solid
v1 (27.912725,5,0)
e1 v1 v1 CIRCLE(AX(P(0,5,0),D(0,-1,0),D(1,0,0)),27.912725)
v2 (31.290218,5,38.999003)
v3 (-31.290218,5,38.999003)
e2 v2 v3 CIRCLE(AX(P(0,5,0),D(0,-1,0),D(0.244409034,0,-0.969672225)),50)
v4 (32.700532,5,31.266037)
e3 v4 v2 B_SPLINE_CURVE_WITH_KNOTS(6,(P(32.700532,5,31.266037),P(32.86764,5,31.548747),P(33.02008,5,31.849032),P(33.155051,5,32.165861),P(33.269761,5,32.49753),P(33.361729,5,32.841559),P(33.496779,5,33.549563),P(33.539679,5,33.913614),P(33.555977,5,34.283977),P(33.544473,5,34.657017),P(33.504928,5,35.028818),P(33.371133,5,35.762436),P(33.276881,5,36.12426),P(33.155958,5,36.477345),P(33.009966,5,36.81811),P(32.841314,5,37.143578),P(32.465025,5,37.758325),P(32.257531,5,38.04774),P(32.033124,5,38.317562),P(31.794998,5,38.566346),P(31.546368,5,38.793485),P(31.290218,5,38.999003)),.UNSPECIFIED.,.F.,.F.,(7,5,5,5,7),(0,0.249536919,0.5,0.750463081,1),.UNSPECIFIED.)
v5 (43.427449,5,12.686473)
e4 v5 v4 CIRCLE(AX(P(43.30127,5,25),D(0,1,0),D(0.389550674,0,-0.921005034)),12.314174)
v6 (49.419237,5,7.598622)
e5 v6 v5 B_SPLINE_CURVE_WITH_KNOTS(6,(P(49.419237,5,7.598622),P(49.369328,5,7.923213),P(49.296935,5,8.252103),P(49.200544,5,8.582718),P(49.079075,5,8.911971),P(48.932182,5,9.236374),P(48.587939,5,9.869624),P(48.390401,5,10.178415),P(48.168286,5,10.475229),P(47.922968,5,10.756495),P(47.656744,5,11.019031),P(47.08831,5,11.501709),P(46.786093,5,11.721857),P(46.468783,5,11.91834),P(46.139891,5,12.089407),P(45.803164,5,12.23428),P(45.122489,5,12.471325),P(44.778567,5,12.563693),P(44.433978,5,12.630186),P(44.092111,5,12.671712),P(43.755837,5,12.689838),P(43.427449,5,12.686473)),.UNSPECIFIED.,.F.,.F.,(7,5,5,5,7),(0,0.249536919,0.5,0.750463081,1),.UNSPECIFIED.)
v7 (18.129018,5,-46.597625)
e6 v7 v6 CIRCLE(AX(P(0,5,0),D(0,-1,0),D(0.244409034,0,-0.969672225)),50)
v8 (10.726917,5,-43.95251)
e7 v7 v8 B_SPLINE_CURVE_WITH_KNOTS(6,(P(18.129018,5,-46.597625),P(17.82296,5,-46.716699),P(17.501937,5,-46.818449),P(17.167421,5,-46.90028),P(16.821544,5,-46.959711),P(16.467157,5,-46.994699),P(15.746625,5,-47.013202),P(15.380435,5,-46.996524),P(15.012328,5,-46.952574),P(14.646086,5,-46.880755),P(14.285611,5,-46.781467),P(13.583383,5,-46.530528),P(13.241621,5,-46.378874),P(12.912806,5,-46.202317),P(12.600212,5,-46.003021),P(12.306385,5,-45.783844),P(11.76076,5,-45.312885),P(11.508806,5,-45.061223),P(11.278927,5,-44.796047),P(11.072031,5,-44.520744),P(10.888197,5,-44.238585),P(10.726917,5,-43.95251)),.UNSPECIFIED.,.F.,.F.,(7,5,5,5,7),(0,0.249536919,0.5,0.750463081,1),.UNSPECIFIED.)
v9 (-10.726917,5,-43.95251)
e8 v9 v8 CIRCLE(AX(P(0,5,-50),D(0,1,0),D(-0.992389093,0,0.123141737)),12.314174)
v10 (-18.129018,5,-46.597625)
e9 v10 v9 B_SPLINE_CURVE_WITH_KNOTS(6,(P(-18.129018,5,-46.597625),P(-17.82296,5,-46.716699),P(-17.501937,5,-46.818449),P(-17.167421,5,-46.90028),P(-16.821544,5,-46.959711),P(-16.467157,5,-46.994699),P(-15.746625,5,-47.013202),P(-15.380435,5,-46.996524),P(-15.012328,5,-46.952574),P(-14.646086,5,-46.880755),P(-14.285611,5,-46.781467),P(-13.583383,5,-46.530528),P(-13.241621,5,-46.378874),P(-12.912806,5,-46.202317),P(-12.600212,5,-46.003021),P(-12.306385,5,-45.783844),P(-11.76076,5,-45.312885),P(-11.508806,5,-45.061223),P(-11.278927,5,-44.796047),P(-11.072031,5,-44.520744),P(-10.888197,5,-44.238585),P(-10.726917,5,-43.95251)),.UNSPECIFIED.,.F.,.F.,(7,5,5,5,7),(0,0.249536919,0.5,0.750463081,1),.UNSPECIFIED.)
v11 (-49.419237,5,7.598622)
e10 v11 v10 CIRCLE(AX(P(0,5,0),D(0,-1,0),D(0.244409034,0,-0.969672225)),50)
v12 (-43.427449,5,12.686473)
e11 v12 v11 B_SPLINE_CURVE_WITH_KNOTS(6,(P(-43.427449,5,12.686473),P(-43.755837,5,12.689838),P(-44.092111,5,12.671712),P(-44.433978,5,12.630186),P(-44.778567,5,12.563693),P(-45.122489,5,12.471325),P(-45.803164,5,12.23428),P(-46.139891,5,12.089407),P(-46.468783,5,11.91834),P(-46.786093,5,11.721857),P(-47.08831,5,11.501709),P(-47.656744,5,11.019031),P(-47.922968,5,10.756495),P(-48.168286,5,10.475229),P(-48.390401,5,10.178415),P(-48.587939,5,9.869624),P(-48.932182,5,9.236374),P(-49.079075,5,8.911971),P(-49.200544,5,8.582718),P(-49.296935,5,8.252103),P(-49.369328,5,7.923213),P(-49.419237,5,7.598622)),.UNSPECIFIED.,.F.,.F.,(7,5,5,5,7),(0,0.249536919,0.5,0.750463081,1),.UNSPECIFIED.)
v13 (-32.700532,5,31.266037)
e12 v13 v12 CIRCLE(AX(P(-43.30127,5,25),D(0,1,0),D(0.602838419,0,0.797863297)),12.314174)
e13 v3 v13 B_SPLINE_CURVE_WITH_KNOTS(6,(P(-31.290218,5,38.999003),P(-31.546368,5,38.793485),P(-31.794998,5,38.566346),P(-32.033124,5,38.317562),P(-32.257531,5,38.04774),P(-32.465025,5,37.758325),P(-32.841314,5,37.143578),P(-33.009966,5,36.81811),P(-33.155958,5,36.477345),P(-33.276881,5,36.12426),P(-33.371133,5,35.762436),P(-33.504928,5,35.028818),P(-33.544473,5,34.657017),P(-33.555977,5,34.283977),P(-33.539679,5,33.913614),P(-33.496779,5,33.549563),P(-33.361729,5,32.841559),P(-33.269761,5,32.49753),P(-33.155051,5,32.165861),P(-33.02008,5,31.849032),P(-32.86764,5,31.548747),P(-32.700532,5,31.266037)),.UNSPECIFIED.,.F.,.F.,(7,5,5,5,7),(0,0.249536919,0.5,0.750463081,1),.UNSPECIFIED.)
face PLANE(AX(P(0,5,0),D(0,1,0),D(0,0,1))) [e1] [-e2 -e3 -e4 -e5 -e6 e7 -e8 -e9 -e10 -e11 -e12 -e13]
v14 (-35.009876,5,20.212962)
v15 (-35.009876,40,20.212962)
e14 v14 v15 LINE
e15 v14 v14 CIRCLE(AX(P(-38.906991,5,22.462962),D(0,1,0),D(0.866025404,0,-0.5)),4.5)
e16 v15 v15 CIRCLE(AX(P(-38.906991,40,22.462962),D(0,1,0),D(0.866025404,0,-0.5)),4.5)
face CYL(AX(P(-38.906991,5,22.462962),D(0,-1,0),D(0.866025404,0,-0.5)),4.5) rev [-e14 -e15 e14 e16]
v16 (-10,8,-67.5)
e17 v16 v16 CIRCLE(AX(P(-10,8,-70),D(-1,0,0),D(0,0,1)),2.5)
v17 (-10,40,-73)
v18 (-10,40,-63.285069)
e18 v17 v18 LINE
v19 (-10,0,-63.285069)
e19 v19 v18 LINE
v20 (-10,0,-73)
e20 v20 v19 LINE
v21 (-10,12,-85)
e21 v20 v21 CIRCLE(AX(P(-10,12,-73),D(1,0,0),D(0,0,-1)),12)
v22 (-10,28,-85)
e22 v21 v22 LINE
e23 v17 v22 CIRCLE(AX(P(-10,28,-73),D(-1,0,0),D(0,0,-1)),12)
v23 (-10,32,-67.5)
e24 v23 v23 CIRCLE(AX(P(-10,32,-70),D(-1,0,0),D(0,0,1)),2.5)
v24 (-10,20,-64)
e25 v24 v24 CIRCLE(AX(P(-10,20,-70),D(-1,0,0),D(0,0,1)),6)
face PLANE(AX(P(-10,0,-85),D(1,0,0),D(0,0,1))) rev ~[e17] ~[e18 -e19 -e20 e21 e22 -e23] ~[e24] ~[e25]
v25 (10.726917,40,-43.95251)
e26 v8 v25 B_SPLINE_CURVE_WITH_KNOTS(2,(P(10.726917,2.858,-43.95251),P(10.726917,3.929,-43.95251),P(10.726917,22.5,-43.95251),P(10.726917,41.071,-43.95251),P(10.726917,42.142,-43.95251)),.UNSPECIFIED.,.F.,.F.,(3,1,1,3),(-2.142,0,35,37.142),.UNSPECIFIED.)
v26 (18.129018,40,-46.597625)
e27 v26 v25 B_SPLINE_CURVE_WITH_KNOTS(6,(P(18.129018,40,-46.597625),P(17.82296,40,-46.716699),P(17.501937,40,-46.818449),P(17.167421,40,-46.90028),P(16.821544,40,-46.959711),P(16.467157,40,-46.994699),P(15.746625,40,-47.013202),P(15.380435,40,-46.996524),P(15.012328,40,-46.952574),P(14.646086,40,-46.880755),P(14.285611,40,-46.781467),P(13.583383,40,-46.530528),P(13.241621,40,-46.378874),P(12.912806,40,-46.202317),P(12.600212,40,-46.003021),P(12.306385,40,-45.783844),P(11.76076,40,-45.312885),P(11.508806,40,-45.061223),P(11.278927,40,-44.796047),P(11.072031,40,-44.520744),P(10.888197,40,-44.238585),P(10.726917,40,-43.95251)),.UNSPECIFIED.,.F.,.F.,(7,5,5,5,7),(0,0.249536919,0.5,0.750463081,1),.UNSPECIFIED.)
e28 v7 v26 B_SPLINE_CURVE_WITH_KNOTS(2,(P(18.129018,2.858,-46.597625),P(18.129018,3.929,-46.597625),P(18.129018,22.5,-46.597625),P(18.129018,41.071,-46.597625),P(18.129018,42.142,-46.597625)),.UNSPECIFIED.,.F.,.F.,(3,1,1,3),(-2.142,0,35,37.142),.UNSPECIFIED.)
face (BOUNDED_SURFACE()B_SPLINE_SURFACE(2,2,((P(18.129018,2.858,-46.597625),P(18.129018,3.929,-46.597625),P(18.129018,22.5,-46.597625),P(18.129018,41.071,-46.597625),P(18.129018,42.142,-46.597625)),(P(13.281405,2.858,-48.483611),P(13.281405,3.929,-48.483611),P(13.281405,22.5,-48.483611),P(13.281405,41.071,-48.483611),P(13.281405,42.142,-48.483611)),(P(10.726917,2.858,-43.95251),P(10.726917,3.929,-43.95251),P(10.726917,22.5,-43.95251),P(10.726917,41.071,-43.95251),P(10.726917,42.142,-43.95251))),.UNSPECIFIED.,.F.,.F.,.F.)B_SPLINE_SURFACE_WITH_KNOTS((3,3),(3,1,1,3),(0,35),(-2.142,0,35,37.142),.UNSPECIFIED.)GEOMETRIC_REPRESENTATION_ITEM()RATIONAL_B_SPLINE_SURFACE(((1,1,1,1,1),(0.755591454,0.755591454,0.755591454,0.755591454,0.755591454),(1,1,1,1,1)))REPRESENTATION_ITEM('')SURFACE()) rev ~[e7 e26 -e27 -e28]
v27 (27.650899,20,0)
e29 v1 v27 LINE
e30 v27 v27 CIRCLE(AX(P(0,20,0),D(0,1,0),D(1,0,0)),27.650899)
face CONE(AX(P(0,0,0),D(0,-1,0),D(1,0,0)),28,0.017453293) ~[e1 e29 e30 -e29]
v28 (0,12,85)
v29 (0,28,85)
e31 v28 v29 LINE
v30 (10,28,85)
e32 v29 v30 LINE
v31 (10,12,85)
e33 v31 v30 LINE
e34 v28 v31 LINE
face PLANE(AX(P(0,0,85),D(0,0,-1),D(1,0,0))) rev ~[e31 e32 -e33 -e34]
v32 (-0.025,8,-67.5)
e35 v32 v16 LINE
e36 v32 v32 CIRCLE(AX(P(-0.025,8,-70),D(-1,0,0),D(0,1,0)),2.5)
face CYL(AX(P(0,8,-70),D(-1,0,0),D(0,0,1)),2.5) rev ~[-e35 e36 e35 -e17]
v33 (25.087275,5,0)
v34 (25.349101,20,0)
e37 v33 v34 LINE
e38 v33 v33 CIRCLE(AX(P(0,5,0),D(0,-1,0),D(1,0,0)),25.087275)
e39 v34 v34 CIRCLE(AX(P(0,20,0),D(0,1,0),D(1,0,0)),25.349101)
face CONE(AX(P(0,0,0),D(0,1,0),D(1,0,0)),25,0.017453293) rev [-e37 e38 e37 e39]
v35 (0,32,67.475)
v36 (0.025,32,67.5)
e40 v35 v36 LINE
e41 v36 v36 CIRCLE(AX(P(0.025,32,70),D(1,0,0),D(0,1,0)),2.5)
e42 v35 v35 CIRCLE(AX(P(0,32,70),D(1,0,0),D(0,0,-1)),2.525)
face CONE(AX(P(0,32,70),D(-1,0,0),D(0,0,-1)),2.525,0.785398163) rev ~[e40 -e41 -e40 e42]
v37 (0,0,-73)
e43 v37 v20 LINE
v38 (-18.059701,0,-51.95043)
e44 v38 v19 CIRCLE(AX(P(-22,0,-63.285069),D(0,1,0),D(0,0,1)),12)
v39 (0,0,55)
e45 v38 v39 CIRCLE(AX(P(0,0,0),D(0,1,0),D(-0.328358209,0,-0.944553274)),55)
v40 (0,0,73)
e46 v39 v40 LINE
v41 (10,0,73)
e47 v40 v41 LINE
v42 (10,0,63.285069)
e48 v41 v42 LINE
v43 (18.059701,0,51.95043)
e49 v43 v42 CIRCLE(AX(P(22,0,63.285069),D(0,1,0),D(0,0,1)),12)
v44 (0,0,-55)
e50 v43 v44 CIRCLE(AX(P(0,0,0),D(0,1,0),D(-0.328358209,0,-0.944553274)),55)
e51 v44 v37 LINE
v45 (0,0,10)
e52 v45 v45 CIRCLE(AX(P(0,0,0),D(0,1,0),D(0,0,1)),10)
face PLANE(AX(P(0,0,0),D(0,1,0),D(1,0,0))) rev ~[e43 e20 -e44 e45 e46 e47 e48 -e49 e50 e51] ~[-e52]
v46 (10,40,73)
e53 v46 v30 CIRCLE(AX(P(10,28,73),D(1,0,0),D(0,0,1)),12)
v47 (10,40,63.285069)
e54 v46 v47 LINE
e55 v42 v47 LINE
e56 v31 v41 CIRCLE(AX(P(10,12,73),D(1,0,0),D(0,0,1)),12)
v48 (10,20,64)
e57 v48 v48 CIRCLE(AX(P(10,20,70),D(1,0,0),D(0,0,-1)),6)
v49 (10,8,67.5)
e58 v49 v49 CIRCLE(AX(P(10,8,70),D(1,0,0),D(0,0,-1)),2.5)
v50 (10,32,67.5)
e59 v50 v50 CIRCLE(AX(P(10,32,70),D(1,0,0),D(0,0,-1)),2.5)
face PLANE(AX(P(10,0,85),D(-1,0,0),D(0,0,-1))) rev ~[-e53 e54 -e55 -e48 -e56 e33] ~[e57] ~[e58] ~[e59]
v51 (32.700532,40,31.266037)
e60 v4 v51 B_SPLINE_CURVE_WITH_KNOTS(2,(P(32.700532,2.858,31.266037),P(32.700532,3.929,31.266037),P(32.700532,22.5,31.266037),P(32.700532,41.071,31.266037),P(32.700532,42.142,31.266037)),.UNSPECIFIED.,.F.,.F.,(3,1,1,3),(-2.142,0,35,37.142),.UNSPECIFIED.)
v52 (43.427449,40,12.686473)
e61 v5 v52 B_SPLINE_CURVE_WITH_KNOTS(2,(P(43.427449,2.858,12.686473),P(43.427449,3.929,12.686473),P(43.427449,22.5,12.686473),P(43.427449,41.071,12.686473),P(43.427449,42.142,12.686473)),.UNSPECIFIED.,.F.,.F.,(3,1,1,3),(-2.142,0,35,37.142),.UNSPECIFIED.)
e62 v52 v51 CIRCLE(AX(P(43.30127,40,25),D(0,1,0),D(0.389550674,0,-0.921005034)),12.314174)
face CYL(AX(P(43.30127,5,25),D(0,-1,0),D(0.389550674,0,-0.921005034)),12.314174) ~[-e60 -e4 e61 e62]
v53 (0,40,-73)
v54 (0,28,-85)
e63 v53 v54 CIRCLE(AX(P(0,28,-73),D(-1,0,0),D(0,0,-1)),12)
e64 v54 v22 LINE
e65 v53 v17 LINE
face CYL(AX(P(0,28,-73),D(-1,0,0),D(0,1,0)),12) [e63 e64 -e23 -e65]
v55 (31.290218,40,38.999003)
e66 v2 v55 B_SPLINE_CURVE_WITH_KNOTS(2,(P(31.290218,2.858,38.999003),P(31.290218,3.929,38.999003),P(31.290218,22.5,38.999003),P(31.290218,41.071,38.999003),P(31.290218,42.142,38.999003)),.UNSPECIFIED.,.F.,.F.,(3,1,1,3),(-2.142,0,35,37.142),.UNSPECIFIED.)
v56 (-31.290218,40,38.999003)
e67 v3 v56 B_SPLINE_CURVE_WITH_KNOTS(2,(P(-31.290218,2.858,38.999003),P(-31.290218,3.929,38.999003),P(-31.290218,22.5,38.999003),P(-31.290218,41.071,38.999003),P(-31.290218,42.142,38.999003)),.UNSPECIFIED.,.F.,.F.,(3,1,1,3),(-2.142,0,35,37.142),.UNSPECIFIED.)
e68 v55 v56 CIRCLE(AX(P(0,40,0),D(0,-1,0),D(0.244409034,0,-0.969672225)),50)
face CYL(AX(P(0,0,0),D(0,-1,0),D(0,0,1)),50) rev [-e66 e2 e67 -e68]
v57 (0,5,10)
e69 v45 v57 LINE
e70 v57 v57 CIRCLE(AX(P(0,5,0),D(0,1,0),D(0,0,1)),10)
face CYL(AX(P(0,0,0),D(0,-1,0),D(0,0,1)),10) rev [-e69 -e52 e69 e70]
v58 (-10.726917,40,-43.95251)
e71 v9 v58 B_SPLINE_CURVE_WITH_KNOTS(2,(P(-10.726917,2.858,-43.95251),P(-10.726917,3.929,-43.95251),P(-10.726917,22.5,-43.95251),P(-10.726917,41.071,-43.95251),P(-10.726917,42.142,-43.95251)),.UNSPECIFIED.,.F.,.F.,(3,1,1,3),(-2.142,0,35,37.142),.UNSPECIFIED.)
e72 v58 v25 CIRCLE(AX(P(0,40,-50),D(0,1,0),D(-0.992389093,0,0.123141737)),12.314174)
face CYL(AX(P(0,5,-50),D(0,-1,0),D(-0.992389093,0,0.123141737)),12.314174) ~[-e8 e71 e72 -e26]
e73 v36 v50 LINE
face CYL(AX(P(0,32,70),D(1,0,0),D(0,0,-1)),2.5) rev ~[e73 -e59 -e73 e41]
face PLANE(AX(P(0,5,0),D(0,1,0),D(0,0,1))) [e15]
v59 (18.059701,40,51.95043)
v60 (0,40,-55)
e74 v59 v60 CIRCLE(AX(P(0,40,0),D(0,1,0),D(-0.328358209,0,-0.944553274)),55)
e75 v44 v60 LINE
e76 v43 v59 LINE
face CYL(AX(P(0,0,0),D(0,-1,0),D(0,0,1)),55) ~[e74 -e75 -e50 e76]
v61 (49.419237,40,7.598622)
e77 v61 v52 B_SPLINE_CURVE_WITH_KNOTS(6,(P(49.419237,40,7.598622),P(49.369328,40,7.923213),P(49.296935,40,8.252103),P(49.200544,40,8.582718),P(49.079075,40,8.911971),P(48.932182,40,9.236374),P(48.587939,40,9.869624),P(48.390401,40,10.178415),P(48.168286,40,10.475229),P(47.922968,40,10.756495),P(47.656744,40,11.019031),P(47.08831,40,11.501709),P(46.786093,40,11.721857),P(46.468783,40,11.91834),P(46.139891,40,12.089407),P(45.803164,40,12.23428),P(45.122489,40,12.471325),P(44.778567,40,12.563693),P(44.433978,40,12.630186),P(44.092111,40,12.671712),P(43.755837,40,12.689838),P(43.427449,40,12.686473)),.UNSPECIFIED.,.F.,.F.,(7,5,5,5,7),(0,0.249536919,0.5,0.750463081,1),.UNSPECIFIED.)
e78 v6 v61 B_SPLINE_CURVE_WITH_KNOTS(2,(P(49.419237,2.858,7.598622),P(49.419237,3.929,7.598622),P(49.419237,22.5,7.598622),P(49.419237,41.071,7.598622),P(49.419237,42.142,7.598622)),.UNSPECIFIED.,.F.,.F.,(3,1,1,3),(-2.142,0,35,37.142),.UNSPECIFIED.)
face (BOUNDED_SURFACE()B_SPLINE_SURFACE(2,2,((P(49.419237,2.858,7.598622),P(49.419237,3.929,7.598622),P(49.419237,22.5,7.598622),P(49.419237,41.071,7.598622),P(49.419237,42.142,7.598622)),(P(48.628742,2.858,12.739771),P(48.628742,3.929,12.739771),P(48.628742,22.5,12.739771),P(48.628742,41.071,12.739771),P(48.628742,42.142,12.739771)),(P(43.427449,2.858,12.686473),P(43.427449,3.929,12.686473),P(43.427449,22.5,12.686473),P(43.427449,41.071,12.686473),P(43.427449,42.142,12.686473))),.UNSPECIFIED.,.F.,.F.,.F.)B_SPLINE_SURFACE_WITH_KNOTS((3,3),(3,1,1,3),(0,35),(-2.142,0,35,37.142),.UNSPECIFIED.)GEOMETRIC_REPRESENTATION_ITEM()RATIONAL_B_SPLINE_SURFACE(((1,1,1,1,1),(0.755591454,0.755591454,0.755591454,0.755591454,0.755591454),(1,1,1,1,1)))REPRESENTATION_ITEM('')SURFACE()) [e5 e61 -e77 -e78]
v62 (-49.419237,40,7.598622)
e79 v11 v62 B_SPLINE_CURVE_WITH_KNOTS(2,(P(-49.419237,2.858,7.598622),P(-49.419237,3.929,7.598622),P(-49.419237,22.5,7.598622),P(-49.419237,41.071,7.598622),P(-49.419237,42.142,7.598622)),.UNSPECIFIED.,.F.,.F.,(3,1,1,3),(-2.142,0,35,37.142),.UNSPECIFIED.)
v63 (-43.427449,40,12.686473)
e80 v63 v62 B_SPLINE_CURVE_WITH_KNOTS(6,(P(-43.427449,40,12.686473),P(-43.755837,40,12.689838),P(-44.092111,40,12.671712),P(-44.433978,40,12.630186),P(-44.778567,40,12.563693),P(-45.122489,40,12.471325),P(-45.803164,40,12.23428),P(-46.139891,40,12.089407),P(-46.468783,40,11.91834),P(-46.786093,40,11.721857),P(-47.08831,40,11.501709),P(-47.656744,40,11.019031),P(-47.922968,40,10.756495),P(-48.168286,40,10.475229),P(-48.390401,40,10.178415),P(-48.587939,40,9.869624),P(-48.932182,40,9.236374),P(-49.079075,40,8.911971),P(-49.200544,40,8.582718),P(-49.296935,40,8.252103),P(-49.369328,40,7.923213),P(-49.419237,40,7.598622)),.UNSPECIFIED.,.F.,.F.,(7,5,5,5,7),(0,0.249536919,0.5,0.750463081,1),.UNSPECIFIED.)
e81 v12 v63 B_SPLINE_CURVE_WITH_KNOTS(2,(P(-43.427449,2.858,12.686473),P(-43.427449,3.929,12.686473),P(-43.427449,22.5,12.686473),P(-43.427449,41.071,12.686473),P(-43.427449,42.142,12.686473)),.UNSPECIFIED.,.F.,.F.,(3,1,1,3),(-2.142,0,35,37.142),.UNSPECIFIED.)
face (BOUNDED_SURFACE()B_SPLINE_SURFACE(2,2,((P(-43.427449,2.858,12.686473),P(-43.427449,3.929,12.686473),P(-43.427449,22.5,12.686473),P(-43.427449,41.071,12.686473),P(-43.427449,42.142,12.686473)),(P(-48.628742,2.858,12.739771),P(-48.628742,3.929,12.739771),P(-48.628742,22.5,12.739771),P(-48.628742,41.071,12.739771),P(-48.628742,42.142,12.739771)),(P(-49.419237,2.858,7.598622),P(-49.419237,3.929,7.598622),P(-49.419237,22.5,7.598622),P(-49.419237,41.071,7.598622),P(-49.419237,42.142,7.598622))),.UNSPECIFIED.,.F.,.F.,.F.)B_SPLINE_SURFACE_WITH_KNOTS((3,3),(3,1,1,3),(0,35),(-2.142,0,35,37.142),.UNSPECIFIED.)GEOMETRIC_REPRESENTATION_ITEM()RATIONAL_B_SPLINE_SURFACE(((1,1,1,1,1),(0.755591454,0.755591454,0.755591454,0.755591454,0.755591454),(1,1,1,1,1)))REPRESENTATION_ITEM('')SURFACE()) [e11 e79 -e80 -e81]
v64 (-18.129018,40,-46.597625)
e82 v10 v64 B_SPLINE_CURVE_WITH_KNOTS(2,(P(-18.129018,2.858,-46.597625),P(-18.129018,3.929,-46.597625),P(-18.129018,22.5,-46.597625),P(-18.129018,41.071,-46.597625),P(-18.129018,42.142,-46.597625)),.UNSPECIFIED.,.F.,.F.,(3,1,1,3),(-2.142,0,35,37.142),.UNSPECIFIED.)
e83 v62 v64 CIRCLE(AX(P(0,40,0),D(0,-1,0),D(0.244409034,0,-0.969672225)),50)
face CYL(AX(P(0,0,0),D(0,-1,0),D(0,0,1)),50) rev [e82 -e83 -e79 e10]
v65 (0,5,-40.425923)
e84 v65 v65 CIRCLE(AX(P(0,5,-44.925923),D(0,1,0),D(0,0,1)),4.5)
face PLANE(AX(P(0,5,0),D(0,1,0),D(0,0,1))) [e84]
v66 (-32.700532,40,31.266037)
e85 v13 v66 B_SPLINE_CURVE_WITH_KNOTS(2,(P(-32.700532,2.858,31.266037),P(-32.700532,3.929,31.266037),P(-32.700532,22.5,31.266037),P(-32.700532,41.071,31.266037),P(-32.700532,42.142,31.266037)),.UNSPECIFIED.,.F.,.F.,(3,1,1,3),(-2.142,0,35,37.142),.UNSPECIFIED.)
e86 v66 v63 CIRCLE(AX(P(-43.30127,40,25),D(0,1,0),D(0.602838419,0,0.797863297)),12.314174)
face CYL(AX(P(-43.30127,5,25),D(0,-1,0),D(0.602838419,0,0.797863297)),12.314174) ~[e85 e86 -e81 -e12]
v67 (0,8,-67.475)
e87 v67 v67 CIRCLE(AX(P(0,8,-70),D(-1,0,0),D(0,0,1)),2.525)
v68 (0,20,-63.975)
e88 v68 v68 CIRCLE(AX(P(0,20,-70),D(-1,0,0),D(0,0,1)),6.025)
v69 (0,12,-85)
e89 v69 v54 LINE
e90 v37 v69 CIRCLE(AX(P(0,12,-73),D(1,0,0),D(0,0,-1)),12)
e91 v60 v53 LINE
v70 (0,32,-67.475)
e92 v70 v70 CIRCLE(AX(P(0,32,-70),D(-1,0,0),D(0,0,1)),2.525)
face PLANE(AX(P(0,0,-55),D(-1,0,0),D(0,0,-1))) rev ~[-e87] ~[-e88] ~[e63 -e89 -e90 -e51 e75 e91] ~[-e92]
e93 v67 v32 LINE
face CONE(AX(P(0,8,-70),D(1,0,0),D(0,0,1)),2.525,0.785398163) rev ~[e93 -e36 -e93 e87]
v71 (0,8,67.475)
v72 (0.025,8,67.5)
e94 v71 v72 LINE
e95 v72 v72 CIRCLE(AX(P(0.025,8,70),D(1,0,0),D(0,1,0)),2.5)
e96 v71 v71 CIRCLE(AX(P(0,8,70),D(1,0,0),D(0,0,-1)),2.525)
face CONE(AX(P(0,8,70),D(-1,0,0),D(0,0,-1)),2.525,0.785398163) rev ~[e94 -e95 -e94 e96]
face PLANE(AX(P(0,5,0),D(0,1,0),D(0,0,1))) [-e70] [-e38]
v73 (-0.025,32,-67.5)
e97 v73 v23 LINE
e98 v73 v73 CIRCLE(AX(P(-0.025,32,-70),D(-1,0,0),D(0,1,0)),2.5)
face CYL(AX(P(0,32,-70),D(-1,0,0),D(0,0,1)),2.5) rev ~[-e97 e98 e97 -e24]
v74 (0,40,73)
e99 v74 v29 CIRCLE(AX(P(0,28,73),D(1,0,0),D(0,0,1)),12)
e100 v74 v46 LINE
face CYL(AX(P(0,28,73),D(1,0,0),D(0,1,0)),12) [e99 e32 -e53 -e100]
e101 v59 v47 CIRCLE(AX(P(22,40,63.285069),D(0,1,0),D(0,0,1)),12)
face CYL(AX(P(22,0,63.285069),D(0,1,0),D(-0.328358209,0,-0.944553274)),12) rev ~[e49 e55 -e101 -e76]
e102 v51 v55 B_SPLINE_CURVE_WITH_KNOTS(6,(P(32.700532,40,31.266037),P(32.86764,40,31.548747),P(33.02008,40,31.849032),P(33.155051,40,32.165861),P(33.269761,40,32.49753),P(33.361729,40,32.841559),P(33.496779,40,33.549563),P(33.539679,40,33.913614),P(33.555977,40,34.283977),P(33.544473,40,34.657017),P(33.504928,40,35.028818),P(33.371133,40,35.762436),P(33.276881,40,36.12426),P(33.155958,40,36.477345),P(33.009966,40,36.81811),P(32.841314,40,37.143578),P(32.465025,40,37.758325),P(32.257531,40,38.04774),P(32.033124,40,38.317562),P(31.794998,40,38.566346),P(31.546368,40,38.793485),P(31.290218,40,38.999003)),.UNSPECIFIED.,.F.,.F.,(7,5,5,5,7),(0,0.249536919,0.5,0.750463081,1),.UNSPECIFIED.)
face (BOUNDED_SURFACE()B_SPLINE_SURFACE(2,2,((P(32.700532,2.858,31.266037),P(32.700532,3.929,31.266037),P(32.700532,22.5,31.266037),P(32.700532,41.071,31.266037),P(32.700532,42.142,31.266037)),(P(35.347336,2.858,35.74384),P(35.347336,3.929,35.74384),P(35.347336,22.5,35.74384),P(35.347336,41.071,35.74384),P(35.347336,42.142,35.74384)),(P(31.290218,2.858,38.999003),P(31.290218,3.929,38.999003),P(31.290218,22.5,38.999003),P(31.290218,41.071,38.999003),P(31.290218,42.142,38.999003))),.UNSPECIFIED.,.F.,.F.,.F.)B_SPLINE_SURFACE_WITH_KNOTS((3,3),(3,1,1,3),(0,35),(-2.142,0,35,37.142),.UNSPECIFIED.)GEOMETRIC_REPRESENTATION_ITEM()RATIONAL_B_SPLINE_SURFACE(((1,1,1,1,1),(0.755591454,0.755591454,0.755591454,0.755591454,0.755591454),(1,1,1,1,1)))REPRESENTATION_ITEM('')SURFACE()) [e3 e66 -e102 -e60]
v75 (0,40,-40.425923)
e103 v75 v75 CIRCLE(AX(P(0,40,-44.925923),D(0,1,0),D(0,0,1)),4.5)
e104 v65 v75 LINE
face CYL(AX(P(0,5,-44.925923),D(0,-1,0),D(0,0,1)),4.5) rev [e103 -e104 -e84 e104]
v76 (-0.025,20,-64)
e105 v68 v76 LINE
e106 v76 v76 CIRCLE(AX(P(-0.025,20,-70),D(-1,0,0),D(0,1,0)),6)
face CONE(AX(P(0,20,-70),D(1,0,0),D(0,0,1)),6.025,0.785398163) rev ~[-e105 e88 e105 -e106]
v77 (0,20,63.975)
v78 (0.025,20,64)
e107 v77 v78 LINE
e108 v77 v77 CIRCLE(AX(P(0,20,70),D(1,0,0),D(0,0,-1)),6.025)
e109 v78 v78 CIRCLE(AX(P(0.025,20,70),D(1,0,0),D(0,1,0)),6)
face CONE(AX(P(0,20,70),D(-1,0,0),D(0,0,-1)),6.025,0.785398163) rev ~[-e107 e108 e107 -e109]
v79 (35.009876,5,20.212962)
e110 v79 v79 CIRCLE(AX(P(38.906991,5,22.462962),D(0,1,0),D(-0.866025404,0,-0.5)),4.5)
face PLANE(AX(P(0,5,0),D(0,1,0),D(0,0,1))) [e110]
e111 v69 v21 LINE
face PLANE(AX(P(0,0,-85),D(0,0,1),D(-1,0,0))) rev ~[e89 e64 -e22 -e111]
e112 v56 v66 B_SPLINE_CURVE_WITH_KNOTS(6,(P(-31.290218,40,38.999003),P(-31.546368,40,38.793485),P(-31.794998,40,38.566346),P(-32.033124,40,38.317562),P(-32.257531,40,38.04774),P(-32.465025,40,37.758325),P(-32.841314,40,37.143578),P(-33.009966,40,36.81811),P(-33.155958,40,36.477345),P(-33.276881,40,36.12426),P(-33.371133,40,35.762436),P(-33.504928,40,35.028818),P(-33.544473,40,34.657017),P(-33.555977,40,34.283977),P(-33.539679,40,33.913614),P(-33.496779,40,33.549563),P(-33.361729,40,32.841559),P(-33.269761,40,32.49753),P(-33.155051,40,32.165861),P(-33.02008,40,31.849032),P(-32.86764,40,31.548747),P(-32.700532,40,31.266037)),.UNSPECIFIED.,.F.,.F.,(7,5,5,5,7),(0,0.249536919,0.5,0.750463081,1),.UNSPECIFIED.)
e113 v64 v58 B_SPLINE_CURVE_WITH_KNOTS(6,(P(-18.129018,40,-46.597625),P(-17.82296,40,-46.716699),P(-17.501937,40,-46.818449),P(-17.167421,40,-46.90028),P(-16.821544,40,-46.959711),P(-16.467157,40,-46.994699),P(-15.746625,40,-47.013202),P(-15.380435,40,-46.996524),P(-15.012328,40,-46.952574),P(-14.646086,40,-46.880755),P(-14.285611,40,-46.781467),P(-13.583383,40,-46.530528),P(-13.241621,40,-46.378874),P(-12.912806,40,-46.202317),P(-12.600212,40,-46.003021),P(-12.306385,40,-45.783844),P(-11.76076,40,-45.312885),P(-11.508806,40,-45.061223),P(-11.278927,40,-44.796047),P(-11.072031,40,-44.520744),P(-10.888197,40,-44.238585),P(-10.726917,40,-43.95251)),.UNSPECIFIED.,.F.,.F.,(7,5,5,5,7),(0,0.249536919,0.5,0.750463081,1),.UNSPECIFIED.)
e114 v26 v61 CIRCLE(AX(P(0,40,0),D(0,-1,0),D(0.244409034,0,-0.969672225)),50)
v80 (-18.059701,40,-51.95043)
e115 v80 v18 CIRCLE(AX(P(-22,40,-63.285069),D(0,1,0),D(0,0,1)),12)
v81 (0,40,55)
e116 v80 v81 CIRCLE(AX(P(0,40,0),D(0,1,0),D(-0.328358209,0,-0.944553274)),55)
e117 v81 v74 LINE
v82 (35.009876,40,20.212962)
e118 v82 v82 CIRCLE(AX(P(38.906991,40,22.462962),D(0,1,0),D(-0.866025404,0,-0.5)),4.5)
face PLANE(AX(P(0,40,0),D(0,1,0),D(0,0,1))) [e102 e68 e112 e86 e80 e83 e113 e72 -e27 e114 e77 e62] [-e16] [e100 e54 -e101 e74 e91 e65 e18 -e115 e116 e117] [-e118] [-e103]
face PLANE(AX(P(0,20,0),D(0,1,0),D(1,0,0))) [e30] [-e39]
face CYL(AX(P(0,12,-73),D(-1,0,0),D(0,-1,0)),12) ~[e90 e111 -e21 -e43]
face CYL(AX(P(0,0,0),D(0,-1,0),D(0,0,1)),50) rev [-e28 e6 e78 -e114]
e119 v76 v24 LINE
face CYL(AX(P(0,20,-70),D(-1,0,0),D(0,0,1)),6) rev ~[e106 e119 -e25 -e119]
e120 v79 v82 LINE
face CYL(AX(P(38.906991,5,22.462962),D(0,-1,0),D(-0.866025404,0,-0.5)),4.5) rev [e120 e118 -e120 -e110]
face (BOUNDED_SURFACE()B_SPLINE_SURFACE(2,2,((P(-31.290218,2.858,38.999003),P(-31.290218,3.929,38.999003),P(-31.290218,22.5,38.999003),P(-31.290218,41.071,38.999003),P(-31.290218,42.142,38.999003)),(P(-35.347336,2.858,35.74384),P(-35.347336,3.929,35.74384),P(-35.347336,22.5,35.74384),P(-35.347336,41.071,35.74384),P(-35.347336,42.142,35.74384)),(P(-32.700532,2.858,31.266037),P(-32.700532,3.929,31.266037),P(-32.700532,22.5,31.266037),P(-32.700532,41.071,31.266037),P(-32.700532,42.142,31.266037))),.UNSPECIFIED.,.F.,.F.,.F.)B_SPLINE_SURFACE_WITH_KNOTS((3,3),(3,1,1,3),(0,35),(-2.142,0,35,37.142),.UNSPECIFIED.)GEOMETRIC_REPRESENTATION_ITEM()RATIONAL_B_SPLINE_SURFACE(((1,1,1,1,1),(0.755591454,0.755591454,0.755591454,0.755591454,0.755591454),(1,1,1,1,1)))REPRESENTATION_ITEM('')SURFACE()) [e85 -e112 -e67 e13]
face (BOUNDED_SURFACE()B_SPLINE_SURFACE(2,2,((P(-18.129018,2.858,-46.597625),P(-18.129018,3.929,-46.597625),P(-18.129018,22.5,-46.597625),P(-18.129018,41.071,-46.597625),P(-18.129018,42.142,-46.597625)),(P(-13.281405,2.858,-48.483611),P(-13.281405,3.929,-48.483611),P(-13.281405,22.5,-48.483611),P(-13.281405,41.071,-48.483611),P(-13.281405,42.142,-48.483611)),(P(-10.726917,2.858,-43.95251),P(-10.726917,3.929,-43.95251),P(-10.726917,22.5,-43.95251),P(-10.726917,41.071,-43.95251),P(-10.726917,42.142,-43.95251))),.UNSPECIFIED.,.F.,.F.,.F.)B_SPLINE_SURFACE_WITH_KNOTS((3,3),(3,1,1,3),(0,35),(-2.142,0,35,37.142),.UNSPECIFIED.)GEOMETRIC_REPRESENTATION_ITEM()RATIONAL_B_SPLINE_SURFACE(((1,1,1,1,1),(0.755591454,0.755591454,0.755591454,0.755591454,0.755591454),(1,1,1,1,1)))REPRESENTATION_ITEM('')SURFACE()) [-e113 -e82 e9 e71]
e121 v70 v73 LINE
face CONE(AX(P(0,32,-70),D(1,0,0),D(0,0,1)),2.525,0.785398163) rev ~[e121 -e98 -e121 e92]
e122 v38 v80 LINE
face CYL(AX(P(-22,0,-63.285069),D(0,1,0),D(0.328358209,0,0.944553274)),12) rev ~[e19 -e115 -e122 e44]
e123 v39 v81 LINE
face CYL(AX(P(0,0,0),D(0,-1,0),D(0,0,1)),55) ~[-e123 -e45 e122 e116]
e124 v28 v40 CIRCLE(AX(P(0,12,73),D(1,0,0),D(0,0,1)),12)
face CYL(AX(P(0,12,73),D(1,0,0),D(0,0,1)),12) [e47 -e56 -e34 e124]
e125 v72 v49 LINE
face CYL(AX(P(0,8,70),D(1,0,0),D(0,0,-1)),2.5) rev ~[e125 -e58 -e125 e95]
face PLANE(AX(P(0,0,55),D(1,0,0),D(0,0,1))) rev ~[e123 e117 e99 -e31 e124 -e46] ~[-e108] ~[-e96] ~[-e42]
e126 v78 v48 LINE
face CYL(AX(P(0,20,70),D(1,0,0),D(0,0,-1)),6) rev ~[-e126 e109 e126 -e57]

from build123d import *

# Parameters (mm, degrees)
SKETCH1_R                        = 55
SKETCH1_R_2                      = 50
BOSS_EXTRUDE1_DEPTH              = 40
SKETCH1_2_R                      = 50
SKETCH1_2_R_2                    = 10
BOSS_EXTRUDE2_DEPTH              = 5
SKETCH1_4_R                      = 28
SKETCH1_4_R_2                    = 25
BOSS_EXTRUDE8_DEPTH              = 20
BOSS_EXTRUDE8_DRAFT              = 1
SKETCH2_R                        = 4.5
BOSS_EXTRUDE3_DEPTH              = 35
FILLET1_R                        = 6
CIRPATTERN1_COUNT                = 3
FILLET1_OF_CIRPATTERN1_R         = 6
BOSS_EXTRUDE7_DEPTH              = 40
FILLET2_R                        = 12
F_5_0MM_DOWEL_HOLE1_D            = 5
F_5_0MM_DOWEL_HOLE1_CSINK_D      = 5.05
F_5_0MM_DOWEL_HOLE1_CSINK_ANGLE  = 90
F_12_0MM_DOWEL_HOLE1_D           = 12
F_12_0MM_DOWEL_HOLE1_CSINK_D     = 12.05
F_12_0MM_DOWEL_HOLE1_CSINK_ANGLE = 90
FILLET3_R                        = 12
CIRPATTERN2_COUNT                = 2
FILLET2_OF_CIRPATTERN2_R         = 12
FILLET3_OF_CIRPATTERN2_R         = 12


with BuildPart() as part:
    # Sketch1 → Boss-Extrude1 (new body)
    with BuildSketch(Plane(origin=(0, 0, 0), x_dir=(1, 0, 0), z_dir=(0, 1, 0))):
        with Locations(Location((0, 0, 0), (0, 0, 270))):
            Circle(SKETCH1_R)
        with Locations(Location((0, 0, 0), (0, 0, 270))):
            Circle(SKETCH1_R_2, mode=Mode.SUBTRACT)
    extrude(amount=BOSS_EXTRUDE1_DEPTH)

    # Sketch1<2> → Boss-Extrude2 (add)
    with BuildSketch(Plane(origin=(0, 0, 0), x_dir=(1, 0, 0), z_dir=(0, 1, 0))):
        with Locations(Location((0, 0, 0), (0, 0, 270))):
            Circle(SKETCH1_2_R)
        with Locations(Location((0, 0, 0), (0, 0, 270))):
            Circle(SKETCH1_2_R_2, mode=Mode.SUBTRACT)
    extrude(amount=BOSS_EXTRUDE2_DEPTH)


with BuildPart() as boss_extrude8_tool:
    # Sketch1<4> → Boss-Extrude8 (with draft: the straight prism first)
    with BuildSketch(Plane(origin=(0, 0, 0), x_dir=(1, 0, 0), z_dir=(0, 1, 0))):
        Circle(SKETCH1_4_R)
        Circle(SKETCH1_4_R_2, mode=Mode.SUBTRACT)
    extrude(amount=BOSS_EXTRUDE8_DEPTH)
    # Boss-Extrude8: the draft: its side faces are tilted about the plane it starts from
    boss_extrude8_sides = [boss_extrude8_tool.faces().sort_by_distance(p)[0] for p in [
        (-28, 10, 0),
        (-25, 10, 0),
    ]]
    draft(boss_extrude8_sides, Plane(origin=(0, 0, 0), x_dir=(1, 0, 0), z_dir=(0, 1, 0)), BOSS_EXTRUDE8_DRAFT)


with BuildPart() as part_1:
    add(part.part)

    # Boss-Extrude8: add boss_extrude8_tool
    add(boss_extrude8_tool.part)

    # Sketch2 → Boss-Extrude3 (add)
    with BuildSketch(Plane(origin=(0, 5, 0), x_dir=(1, 0, 0), z_dir=(0, 1, 0))):
        with BuildLine():
            ThreePointArc((-12.220451707, 48.483611252), (0, 37.685826265), (12.220451707, 48.483611252))
            ThreePointArc((12.220451707, 48.483611252), (0, 50), (-12.220451707, 48.483611252))
        make_face()
        with Locations(Location((0, 44.925923132, 0), (0, 0, 270))):
            Circle(SKETCH2_R, mode=Mode.SUBTRACT)
    boss_extrude3 = extrude(amount=BOSS_EXTRUDE3_DEPTH)

    # Fillet1
    fillet1_edges = [part_1.edges().sort_by_distance(p)[0] for p in [
        (12.220451707, 22.5, -48.483611252),
        (-12.220451707, 22.5, -48.483611252),
    ]]
    fillet(fillet1_edges, radius=FILLET1_R)

    # CirPattern1: Boss-Extrude3 ×3 about axis
    cirpattern1_axis = Axis((0, 0, 0), (0, 1, 0))
    for i in range(1, CIRPATTERN1_COUNT):
        add(boss_extrude3.rotate(cirpattern1_axis, i * 360 / CIRPATTERN1_COUNT))

    # Fillet1 of CirPattern1
    fillet1_of_cirpattern1_edges = [part_1.edges().sort_by_distance(p)[0] for p in [
        (-48.098264865, 22.5, 13.658584002),
        (-35.877813158, 22.5, 34.825027251),
        (35.877813158, 22.5, 34.825027251),
        (48.098264865, 22.5, 13.658584002),
    ]]
    fillet(fillet1_of_cirpattern1_edges, radius=FILLET1_OF_CIRPATTERN1_R)

    # Sketch3 → Boss-Extrude7 (add)
    with BuildSketch(Plane.XZ):
        with BuildLine():
            Line((0, -55), (0, -85))
            Line((0, -85), (-10, -85))
            Line((-10, -85), (-10, -54.083269132))
            ThreePointArc((-10, -54.083269132), (-5.02096593, -54.770337785), (0, -55))
        make_face()
    boss_extrude7 = extrude(amount=-BOSS_EXTRUDE7_DEPTH)

    # Fillet2
    fillet2_edges = [part_1.edges().sort_by_distance(p)[0] for p in [
        (-10, 20, -54.083269132),
    ]]
    fillet(fillet2_edges, radius=FILLET2_R)

    # Ø5.0mm Dowel Hole1 (through all)
    with Locations(Plane(origin=(0, 0, 0), x_dir=(0, 0, -1), z_dir=(1, 0, 0))):
        with Locations((70, 32), (70, 8)):
            f_5_0mm_dowel_hole1 = CounterSinkHole(F_5_0MM_DOWEL_HOLE1_D / 2, F_5_0MM_DOWEL_HOLE1_CSINK_D / 2, counter_sink_angle=F_5_0MM_DOWEL_HOLE1_CSINK_ANGLE)

    # Ø12.0mm Dowel Hole1 (through all)
    with Locations(Plane(origin=(0, 0, 0), x_dir=(0, 0, -1), z_dir=(1, 0, 0))):
        with Locations((70, 20)):
            f_12_0mm_dowel_hole1 = CounterSinkHole(F_12_0MM_DOWEL_HOLE1_D / 2, F_12_0MM_DOWEL_HOLE1_CSINK_D / 2, counter_sink_angle=F_12_0MM_DOWEL_HOLE1_CSINK_ANGLE)

    # Fillet3
    fillet3_edges = [part_1.edges().sort_by_distance(p)[0] for p in [
        (-5, 0, -85),
        (-5, 40, -85),
    ]]
    fillet(fillet3_edges, radius=FILLET3_R)

    # CirPattern2: Boss-Extrude7, Ø5.0mm Dowel Hole1, Ø12.0mm Dowel Hole1 ×2 about axis
    cirpattern2_axis = Axis((0, 0, 0), (0, 1, 0))
    add([boss_extrude7.rotate(cirpattern2_axis, i * 360 / CIRPATTERN2_COUNT) for i in range(1, CIRPATTERN2_COUNT)])
    add([f_5_0mm_dowel_hole1.rotate(cirpattern2_axis, i * 360 / CIRPATTERN2_COUNT) for i in range(1, CIRPATTERN2_COUNT)], mode=Mode.SUBTRACT)
    add([f_12_0mm_dowel_hole1.rotate(cirpattern2_axis, i * 360 / CIRPATTERN2_COUNT) for i in range(1, CIRPATTERN2_COUNT)], mode=Mode.SUBTRACT)

    # Fillet2 of CirPattern2
    fillet2_of_cirpattern2_edges = [part_1.edges().sort_by_distance(p)[0] for p in [
        (10, 20, 54.083269132),
    ]]
    fillet(fillet2_of_cirpattern2_edges, radius=FILLET2_OF_CIRPATTERN2_R)

    # Fillet3 of CirPattern2
    fillet3_of_cirpattern2_edges = [part_1.edges().sort_by_distance(p)[0] for p in [
        (5, 0, 85),
        (5, 40, 85),
    ]]
    fillet(fillet3_of_cirpattern2_edges, radius=FILLET3_OF_CIRPATTERN2_R)


solid = part_1.part
